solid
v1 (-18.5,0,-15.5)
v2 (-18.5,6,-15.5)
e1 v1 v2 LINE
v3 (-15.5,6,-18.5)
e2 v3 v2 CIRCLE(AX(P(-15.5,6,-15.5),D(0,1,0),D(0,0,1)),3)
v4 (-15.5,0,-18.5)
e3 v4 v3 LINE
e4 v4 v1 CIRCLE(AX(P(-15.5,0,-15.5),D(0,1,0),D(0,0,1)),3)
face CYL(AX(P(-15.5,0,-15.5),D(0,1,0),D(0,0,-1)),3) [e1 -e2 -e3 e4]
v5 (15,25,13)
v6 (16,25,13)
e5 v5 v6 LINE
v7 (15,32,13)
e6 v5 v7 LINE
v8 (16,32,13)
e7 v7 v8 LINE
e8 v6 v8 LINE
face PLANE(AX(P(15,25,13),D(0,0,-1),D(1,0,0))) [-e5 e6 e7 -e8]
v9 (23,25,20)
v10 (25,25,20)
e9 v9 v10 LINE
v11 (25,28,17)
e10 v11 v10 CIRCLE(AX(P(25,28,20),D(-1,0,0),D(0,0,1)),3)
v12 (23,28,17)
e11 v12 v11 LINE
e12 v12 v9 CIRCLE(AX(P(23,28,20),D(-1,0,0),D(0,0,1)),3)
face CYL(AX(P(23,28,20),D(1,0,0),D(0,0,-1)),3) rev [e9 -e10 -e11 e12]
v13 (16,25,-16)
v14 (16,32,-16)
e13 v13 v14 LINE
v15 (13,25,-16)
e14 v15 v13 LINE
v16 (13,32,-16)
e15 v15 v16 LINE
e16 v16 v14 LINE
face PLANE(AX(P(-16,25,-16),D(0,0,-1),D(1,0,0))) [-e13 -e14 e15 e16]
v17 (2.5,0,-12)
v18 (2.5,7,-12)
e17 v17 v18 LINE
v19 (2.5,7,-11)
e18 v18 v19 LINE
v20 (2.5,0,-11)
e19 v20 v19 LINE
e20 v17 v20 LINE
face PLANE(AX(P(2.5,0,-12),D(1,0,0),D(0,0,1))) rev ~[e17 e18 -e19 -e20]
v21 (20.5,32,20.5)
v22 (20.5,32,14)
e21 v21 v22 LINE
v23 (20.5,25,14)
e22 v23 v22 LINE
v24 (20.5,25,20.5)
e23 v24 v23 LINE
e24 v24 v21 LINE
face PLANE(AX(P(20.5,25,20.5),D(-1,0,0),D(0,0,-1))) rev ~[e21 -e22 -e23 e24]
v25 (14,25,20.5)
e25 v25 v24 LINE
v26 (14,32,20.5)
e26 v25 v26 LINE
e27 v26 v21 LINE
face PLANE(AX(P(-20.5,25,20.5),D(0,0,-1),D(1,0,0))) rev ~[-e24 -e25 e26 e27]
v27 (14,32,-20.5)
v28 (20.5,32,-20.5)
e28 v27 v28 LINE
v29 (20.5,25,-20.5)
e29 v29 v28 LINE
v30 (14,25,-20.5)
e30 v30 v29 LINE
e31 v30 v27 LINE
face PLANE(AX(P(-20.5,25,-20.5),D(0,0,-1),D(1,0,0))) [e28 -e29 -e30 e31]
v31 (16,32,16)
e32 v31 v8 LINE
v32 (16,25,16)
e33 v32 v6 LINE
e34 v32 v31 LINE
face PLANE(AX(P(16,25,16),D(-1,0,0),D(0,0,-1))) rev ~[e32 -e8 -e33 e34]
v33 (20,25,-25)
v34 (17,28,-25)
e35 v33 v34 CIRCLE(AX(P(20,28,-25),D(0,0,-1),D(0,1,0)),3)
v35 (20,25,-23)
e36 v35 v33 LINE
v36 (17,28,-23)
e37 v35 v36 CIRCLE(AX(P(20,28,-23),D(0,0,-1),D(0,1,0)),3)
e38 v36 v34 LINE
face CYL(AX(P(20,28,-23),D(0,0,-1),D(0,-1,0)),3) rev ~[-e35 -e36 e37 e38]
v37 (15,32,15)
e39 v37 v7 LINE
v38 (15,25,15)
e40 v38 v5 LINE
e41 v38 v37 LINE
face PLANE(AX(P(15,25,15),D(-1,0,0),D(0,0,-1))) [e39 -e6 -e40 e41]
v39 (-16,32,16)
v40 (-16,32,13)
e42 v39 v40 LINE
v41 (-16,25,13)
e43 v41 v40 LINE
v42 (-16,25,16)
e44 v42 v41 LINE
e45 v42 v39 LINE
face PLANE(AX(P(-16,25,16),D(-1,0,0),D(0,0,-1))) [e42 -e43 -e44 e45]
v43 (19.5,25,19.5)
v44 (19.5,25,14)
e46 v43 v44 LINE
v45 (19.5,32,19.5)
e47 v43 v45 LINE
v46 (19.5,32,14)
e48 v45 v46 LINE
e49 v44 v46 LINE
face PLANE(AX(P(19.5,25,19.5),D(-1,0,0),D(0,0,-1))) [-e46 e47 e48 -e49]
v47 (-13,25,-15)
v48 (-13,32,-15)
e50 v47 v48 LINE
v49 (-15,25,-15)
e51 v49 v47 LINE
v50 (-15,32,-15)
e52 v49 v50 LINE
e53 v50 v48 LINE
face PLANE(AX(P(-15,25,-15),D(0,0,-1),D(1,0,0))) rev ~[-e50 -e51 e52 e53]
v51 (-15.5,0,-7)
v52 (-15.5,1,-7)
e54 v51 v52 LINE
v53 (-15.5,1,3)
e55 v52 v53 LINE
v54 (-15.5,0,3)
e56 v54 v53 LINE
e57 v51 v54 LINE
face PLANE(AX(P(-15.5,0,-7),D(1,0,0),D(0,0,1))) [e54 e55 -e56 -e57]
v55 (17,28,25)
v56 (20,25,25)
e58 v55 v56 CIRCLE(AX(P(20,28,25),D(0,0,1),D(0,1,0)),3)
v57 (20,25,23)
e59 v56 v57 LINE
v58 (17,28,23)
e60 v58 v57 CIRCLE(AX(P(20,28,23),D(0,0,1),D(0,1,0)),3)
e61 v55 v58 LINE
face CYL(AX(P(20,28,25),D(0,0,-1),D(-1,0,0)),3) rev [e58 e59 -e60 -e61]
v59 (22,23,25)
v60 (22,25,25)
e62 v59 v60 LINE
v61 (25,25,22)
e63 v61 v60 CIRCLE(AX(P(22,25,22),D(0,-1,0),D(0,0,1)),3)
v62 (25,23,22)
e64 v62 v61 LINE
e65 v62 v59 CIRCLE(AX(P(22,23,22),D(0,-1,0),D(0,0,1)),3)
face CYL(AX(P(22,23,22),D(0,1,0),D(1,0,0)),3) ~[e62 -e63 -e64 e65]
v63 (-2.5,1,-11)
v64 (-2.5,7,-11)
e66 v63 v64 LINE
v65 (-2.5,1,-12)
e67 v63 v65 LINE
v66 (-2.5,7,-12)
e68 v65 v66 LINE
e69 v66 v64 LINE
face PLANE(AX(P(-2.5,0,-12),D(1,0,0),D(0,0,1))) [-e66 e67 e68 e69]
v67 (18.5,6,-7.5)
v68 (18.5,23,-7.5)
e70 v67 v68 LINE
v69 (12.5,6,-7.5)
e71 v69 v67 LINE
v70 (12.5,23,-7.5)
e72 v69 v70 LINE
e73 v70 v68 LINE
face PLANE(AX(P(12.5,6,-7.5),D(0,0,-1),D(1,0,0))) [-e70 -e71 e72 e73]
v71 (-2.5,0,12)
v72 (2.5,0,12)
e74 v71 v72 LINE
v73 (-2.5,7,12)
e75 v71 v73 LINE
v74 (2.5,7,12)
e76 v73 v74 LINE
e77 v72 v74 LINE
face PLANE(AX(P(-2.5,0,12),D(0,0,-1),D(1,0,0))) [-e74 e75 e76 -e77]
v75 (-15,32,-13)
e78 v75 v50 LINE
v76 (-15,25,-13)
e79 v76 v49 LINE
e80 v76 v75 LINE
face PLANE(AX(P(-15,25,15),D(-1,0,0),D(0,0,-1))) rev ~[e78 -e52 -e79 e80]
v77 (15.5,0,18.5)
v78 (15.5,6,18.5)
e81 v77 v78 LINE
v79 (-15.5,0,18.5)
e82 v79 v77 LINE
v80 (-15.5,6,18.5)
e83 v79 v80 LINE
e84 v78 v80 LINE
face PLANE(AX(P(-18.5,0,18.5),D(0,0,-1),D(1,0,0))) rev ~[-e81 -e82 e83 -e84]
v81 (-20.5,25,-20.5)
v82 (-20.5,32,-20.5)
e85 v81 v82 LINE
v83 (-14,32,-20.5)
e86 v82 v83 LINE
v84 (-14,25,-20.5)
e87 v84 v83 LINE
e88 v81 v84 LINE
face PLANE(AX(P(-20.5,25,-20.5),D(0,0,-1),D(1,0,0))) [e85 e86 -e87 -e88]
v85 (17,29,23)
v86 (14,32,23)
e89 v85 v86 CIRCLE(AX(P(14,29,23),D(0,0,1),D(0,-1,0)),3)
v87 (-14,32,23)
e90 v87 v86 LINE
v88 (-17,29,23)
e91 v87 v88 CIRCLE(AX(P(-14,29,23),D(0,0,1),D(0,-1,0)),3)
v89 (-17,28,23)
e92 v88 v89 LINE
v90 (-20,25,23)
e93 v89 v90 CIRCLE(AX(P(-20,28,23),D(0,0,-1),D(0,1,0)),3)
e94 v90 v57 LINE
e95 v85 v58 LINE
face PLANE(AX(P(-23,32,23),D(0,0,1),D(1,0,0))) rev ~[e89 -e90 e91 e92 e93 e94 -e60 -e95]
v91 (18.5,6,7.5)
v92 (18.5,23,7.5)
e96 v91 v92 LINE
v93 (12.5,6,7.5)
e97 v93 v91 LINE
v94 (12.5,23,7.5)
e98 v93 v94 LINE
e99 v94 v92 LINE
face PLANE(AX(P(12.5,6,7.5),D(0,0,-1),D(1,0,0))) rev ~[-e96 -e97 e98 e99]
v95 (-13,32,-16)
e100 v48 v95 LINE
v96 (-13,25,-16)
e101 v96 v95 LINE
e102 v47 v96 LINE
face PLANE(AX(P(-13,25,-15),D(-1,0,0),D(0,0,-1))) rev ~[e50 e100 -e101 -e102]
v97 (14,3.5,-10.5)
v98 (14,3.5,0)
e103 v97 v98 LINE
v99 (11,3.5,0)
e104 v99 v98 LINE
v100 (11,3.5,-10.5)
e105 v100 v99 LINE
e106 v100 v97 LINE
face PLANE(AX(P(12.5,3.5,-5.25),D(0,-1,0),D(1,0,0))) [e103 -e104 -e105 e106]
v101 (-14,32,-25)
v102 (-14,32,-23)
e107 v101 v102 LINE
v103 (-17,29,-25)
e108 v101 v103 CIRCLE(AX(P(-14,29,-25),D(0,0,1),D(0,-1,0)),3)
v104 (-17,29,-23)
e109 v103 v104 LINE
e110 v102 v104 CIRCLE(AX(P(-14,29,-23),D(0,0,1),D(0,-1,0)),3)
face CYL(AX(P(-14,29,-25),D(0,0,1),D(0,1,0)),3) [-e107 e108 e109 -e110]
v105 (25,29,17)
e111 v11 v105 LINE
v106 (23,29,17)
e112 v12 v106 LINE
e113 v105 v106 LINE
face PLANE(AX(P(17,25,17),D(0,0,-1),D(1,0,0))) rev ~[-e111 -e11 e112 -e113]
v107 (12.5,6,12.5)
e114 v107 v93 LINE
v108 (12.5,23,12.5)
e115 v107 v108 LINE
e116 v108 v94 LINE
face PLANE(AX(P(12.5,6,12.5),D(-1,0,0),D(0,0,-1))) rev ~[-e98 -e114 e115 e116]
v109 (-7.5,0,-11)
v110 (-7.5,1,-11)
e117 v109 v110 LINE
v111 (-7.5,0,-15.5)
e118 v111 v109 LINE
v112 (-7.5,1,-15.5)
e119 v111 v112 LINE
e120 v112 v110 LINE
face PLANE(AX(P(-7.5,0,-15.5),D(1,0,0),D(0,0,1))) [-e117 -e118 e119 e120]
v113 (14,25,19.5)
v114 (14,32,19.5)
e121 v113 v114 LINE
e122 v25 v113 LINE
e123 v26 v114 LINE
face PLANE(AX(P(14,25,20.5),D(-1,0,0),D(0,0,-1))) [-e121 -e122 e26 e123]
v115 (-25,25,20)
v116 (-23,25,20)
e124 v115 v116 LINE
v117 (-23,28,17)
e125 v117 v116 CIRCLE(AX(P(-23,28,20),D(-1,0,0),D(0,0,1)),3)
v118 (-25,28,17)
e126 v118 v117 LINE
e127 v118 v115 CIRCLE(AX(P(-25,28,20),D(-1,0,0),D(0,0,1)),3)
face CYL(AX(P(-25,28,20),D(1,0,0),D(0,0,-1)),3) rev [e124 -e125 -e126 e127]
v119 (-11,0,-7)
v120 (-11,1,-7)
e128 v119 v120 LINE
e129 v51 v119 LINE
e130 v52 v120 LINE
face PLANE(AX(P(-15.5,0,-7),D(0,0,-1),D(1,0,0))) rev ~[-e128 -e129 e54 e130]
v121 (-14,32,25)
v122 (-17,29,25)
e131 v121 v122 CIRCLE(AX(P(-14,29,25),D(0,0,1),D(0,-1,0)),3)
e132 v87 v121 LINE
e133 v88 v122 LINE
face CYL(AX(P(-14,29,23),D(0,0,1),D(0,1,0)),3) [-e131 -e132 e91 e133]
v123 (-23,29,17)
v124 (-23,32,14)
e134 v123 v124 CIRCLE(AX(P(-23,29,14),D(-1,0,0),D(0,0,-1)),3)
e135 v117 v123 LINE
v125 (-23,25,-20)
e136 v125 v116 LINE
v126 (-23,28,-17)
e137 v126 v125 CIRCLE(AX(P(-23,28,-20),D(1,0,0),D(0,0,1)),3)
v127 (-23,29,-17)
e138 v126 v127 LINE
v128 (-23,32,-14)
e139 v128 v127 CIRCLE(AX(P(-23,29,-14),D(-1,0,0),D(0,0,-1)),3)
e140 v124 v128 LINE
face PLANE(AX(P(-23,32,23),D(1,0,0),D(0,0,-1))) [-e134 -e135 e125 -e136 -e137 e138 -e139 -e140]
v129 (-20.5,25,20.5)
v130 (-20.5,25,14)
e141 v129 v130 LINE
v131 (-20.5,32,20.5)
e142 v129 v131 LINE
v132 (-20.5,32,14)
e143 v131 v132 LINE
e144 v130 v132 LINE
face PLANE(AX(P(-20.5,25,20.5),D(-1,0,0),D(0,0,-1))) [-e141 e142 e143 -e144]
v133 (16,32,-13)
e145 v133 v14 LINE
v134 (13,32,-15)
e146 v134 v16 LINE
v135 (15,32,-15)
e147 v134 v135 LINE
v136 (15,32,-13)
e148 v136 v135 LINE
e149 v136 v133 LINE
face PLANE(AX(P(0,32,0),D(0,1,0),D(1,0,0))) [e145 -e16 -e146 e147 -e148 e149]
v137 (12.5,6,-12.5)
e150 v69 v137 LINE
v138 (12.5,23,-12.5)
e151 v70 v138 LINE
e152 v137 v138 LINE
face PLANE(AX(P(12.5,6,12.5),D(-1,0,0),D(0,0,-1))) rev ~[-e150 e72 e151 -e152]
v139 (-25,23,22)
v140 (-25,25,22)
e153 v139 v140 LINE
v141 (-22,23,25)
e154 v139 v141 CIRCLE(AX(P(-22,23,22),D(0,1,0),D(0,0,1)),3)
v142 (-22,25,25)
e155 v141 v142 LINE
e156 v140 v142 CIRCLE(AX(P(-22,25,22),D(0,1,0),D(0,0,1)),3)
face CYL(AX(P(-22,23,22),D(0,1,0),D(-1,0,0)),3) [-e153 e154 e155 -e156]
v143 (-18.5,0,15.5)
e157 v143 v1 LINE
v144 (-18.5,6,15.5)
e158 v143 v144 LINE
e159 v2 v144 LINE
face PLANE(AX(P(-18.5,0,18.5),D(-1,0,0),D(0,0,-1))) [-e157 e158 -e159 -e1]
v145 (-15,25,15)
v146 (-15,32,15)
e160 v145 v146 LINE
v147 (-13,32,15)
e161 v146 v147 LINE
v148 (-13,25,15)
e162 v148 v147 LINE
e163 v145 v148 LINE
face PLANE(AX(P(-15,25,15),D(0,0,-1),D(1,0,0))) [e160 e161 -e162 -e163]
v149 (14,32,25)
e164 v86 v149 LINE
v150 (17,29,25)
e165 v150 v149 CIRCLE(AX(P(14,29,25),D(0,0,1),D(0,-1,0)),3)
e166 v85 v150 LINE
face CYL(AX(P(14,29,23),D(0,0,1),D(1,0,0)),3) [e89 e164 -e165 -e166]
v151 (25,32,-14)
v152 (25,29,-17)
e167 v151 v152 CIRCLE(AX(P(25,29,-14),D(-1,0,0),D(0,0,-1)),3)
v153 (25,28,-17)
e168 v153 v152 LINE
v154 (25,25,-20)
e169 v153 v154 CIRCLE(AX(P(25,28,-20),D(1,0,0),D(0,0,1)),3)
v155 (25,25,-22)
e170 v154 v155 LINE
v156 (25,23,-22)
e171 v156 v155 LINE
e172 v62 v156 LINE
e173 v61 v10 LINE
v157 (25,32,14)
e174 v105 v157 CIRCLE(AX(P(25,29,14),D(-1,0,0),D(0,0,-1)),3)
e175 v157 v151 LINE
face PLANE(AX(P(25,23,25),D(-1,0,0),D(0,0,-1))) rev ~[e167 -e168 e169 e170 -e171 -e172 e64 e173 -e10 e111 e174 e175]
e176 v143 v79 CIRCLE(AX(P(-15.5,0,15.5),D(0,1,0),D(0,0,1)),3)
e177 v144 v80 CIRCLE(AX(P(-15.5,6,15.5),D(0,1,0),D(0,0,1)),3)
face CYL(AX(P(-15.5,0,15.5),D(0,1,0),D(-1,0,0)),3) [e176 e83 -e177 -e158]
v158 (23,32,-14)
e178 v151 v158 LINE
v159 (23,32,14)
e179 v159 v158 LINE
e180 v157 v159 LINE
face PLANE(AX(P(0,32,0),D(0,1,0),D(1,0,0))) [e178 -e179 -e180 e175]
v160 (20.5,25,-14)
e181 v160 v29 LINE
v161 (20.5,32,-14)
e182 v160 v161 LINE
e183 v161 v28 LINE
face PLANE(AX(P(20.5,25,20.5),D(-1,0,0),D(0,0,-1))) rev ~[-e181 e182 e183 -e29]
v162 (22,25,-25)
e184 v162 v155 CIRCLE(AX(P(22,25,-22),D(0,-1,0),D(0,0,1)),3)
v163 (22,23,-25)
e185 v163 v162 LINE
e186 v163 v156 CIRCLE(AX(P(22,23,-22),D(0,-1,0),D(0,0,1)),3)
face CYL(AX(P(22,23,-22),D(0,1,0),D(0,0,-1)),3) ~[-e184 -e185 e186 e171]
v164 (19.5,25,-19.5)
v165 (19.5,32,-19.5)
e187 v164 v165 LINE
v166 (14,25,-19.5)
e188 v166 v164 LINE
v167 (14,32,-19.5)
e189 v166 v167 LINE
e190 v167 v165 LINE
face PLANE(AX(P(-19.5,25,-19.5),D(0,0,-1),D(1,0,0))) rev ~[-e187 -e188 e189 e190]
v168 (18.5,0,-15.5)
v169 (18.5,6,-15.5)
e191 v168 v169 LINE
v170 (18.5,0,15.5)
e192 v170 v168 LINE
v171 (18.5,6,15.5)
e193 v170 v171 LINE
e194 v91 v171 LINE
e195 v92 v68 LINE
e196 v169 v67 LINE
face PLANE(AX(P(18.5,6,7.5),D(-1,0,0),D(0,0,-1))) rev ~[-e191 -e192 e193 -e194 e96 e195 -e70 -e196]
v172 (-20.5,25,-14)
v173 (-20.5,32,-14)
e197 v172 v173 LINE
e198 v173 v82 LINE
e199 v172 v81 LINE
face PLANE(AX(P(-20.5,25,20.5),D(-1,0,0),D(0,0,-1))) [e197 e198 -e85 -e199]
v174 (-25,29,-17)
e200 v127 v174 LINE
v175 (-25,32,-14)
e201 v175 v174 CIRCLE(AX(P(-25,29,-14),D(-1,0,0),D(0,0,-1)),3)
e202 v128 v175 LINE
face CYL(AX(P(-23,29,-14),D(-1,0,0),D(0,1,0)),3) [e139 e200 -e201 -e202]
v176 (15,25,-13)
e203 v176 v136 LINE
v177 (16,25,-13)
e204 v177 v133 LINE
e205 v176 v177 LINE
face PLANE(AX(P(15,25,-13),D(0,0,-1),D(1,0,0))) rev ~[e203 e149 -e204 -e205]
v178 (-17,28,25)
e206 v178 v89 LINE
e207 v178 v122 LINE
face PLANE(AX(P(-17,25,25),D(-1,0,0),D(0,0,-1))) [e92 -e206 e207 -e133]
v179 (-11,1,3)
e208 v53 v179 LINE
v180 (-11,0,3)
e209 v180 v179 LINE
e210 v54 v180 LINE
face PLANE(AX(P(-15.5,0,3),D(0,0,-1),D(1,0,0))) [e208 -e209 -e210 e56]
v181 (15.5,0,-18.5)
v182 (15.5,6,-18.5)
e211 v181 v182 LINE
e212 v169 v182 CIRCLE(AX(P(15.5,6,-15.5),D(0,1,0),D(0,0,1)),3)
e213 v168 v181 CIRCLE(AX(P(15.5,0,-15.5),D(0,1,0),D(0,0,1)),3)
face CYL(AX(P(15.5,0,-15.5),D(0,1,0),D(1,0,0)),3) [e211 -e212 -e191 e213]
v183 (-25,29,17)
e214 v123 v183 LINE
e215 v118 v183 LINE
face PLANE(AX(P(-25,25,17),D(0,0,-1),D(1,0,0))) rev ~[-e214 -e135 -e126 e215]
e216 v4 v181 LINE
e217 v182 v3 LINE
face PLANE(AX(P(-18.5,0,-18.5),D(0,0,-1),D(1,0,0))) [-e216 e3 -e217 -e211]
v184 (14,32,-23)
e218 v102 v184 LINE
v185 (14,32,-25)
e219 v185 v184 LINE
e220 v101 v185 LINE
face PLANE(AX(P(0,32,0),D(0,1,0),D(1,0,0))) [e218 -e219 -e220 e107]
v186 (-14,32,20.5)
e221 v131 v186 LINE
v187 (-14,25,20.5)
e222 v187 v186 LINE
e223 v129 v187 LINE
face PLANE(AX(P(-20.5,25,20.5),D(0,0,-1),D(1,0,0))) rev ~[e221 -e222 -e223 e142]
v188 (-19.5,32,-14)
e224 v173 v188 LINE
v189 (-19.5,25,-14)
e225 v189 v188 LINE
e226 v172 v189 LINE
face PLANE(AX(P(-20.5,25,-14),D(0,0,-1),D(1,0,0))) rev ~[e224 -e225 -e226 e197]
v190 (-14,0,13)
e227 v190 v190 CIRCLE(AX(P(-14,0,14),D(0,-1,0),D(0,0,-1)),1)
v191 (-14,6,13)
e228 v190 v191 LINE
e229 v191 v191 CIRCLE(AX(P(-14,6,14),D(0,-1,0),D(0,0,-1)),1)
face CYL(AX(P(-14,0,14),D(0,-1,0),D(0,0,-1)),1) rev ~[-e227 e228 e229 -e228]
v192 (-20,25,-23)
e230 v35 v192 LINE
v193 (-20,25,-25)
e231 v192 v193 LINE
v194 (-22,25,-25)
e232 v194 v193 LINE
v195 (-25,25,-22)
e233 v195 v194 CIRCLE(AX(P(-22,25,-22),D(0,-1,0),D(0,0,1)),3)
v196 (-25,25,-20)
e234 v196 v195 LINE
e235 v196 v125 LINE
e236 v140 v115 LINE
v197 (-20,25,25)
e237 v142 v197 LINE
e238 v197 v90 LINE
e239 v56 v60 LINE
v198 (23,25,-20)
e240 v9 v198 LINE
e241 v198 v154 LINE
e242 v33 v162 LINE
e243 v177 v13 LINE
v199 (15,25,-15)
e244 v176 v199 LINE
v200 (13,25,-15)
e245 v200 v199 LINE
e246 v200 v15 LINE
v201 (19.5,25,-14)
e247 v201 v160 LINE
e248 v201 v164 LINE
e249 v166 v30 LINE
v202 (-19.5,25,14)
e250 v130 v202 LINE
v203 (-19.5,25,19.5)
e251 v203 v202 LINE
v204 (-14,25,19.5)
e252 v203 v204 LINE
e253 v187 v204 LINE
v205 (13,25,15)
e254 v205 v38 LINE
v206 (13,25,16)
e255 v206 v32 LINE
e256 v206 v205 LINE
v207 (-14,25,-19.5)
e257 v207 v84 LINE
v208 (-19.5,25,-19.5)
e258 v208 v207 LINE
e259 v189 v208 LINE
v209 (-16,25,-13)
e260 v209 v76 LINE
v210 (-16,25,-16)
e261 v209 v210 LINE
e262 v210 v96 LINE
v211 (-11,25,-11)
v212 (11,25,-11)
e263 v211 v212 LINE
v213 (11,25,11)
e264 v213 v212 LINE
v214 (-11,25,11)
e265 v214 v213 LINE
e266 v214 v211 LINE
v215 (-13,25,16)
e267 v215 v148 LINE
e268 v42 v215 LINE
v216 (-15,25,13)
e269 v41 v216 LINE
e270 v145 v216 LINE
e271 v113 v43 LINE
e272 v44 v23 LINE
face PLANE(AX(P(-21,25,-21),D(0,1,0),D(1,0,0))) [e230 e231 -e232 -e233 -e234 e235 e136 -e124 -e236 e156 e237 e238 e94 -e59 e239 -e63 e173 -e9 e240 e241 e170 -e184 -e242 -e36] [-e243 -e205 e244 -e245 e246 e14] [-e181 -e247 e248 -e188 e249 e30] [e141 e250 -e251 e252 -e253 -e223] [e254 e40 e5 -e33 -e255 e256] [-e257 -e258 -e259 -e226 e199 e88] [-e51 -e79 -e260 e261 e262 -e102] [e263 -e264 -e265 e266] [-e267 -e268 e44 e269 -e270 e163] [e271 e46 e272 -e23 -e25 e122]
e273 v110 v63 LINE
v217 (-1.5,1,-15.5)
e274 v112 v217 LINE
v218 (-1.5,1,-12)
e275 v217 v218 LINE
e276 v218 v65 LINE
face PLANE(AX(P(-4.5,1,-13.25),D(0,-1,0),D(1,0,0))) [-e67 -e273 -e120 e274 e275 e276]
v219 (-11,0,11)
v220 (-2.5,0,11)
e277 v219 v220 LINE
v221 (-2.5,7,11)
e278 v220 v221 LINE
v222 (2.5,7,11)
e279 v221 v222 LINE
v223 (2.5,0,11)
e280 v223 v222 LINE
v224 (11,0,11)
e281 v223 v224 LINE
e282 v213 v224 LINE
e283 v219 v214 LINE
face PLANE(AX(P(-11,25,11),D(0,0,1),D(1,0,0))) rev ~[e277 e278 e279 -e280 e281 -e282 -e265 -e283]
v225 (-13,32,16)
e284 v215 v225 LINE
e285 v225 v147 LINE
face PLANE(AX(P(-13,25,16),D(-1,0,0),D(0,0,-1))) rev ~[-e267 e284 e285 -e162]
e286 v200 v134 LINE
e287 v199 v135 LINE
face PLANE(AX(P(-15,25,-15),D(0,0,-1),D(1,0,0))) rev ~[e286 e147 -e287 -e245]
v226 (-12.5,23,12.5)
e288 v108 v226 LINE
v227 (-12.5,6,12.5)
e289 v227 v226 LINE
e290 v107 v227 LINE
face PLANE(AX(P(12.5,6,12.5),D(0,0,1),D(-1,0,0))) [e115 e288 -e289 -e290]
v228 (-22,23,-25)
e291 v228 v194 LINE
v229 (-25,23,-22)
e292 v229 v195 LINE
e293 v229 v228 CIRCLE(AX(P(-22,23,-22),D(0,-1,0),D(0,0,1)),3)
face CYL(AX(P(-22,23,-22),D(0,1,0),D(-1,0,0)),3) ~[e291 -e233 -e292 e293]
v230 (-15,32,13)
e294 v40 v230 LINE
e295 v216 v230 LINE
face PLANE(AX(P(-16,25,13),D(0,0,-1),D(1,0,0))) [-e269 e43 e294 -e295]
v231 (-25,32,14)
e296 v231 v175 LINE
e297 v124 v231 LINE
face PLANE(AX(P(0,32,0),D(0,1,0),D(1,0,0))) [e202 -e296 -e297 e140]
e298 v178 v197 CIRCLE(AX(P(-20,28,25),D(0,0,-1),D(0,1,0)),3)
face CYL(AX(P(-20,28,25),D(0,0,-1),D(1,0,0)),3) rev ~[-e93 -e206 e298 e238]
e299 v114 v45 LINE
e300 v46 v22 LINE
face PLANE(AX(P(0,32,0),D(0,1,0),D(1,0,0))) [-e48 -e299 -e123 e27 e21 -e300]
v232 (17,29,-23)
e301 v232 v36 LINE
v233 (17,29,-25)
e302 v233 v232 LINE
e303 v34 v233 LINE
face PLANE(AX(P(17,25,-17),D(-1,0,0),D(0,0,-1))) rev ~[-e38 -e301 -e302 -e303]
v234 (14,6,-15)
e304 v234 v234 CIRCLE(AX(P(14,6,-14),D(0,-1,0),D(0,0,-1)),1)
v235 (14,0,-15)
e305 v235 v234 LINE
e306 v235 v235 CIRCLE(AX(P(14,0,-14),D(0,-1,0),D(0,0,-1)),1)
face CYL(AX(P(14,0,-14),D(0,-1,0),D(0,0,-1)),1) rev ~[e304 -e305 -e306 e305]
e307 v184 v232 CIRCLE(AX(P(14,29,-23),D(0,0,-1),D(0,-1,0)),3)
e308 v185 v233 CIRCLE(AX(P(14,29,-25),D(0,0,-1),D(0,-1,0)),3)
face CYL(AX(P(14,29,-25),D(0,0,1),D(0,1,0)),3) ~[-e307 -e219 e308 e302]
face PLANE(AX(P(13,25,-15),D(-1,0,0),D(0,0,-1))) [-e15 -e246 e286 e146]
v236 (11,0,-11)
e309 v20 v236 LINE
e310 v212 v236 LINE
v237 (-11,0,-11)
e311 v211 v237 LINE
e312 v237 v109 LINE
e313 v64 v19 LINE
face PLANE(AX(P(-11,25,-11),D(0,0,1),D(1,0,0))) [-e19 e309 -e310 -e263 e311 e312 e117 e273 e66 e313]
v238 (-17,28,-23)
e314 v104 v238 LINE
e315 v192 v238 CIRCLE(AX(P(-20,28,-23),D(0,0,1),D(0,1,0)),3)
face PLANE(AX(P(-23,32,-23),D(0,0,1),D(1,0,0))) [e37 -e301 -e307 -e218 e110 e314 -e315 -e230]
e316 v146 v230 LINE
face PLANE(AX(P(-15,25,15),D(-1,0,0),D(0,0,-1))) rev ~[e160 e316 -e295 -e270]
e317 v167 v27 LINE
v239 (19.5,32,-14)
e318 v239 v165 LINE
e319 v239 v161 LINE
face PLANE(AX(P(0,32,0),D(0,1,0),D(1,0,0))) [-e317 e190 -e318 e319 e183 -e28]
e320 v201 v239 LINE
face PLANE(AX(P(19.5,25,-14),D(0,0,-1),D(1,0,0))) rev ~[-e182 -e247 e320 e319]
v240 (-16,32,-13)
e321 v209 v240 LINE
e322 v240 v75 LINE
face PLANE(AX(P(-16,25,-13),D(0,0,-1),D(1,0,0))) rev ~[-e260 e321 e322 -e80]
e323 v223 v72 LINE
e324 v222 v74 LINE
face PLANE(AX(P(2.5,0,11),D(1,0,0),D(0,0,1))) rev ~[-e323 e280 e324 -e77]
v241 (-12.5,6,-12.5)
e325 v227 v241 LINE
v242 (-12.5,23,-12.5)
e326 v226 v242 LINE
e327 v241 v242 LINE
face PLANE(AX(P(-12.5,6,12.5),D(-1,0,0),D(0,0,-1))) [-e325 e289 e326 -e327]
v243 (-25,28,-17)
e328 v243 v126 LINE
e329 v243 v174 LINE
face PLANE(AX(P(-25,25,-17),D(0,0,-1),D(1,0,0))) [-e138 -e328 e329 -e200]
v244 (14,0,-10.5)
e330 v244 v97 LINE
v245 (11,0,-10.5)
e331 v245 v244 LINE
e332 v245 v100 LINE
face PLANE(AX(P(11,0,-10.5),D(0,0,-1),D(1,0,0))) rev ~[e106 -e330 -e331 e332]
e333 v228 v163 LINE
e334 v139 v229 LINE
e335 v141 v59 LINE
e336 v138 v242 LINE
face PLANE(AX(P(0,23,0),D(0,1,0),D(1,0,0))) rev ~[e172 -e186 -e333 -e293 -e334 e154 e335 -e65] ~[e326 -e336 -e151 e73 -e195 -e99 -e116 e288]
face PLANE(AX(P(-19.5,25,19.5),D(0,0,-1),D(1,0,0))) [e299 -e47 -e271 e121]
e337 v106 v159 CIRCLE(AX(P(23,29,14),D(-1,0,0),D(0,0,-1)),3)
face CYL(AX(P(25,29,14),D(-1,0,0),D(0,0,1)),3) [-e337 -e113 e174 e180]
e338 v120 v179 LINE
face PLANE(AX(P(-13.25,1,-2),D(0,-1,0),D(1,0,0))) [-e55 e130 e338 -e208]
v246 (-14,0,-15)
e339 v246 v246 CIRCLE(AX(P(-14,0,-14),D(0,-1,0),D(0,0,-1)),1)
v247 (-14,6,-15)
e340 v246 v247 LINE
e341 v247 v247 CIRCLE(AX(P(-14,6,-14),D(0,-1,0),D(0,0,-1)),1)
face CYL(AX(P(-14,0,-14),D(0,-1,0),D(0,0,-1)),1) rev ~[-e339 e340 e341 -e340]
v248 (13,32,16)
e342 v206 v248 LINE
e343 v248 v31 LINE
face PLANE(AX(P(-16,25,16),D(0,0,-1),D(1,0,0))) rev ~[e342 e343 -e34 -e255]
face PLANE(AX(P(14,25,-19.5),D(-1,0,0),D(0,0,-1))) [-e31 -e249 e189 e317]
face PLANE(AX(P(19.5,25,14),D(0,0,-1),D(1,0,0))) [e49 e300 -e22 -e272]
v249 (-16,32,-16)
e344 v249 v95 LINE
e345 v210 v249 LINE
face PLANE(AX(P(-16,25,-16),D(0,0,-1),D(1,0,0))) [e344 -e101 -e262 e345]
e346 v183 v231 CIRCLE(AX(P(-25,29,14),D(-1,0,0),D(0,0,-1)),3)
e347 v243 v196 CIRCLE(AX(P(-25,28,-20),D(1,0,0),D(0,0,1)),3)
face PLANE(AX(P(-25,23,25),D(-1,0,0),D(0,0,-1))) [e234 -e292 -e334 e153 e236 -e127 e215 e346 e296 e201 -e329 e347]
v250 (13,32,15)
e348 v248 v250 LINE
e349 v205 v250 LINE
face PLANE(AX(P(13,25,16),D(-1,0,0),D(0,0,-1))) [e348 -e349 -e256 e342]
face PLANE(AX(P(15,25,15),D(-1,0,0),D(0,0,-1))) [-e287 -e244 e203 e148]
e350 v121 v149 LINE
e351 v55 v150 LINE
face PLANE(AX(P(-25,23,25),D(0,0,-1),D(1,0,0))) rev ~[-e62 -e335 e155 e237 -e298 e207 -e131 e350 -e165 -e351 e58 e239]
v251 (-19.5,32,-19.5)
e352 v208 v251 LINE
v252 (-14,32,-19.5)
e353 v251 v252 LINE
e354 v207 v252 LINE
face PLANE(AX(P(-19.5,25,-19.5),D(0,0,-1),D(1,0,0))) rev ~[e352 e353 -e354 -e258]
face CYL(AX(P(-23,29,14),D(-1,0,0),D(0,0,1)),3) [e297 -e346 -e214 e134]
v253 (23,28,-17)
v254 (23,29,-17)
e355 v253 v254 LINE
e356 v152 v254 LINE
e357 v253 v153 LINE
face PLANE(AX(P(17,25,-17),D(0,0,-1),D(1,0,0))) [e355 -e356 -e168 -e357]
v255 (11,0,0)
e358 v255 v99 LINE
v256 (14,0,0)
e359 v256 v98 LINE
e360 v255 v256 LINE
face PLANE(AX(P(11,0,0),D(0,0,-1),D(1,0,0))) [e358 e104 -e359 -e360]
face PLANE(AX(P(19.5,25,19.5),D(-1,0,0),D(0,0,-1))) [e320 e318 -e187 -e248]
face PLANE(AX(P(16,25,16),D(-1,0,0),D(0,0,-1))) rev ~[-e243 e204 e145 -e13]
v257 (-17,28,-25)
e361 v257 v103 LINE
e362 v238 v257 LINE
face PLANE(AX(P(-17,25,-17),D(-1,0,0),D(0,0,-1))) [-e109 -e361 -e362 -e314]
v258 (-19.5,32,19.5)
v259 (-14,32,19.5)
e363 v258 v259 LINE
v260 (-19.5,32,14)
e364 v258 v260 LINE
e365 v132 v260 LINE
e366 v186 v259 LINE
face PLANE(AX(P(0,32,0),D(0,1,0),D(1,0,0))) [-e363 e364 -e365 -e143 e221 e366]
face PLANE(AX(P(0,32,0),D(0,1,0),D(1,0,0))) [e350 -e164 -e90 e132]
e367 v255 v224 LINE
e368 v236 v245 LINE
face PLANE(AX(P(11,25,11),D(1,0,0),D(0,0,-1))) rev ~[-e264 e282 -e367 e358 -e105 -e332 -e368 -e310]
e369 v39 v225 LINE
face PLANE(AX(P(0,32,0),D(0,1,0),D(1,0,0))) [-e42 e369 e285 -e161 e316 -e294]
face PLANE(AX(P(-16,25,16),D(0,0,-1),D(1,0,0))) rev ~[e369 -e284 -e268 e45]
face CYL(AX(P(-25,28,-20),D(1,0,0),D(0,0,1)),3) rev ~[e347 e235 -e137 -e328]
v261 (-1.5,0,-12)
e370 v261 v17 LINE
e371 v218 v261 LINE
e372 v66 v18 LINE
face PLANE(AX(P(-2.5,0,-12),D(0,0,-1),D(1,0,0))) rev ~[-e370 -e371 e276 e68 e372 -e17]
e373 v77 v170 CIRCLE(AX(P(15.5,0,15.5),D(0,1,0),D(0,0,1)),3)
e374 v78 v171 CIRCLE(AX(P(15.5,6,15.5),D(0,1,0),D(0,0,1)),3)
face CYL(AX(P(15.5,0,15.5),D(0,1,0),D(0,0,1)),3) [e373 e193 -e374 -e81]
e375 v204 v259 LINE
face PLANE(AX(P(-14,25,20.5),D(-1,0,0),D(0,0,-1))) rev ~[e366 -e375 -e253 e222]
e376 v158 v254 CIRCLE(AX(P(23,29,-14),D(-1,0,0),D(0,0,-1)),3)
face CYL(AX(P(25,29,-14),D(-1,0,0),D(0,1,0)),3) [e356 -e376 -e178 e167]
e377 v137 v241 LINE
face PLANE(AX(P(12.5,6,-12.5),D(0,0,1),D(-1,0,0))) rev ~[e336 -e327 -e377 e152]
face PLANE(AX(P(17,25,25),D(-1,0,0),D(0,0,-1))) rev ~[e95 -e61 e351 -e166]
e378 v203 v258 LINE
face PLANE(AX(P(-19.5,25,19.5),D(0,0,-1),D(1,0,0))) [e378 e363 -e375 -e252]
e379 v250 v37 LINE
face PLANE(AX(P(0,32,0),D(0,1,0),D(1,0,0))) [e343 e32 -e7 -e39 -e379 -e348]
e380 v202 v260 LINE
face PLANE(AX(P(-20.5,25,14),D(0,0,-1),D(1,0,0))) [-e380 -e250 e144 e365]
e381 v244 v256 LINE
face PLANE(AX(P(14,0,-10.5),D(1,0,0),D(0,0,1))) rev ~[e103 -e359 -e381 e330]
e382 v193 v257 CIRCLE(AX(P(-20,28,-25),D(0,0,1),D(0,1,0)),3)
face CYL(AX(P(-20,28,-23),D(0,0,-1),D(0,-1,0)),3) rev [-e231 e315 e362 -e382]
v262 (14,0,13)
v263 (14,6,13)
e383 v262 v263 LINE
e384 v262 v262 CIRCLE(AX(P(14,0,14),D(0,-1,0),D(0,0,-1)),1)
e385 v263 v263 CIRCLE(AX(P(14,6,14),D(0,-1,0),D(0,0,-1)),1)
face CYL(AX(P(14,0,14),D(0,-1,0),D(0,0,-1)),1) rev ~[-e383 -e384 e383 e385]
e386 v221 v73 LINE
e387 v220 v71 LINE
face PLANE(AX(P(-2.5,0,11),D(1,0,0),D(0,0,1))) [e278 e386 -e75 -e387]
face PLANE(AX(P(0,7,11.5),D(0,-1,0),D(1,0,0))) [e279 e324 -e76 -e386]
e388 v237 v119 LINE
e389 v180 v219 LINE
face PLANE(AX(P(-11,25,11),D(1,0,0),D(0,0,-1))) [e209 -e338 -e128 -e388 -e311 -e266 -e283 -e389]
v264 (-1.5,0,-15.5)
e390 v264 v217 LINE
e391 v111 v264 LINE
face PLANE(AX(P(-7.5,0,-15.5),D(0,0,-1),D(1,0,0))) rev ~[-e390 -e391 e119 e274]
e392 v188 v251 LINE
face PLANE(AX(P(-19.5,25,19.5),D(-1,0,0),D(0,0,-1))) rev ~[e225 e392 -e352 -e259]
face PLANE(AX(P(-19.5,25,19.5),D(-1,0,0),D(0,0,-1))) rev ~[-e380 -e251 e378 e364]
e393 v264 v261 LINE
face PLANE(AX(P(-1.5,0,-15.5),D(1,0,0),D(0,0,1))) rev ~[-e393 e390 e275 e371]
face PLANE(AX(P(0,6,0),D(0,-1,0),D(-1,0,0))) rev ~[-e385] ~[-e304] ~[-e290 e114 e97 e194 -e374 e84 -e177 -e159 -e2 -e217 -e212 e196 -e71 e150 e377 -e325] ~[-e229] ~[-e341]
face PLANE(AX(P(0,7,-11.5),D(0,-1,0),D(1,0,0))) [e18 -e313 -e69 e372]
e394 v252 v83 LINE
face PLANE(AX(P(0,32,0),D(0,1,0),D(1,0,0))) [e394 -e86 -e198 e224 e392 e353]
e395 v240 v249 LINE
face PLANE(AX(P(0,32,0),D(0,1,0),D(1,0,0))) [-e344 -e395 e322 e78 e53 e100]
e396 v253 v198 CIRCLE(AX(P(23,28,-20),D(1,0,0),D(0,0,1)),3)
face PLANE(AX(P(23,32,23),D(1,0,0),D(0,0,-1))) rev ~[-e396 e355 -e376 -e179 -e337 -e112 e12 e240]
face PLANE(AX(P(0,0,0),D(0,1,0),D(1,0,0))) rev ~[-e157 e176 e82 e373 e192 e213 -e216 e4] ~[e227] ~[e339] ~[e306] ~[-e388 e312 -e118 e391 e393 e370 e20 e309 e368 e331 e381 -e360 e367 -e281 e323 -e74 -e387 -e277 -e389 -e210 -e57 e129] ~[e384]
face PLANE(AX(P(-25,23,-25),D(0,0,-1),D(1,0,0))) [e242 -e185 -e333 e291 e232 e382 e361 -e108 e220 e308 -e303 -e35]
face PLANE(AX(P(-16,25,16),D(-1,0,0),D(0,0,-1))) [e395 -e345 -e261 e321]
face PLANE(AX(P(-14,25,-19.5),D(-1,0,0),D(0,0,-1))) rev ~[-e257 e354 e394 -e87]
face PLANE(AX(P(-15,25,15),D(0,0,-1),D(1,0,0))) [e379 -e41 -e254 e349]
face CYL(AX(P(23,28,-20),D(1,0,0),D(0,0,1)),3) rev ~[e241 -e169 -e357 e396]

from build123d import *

# Parameters (mm, degrees)
SKETCH_2_W            = 37
SKETCH_2_H            = 37
EXTRUDE_1_DEPTH       = 23
SKETCH_3_W            = 22
SKETCH_3_H            = 22
CUT_EXTRUDE_1_DEPTH   = 23
SKETCH_19_OUTSIDE_W   = 50.432
SKETCH_19_OUTSIDE_H   = 50.432
SKETCH_19_OUTSIDE_W_2 = 25
SKETCH_19_OUTSIDE_H_2 = 25
CUT_EXTRUDE_17_DEPTH  = 17
SKETCH_4_W            = 50
SKETCH_4_H            = 50
EXTRUDE_2_DEPTH       = 9
SKETCH_5_W            = 46
SKETCH_5_H            = 46
CUT_EXTRUDE_3_DEPTH   = 7
SKETCH_12_W           = 8
SKETCH_12_H           = 8
CUT_EXTRUDE_14_DEPTH  = 14
SKETCH_6_W            = 22
SKETCH_6_H            = 22
CUT_EXTRUDE_4_DEPTH   = 2
SKETCH_11_R           = 1
CUT_EXTRUDE_7_DEPTH   = 8
SKETCH_13_W           = 41
SKETCH_13_H           = 41
SKETCH_13_W_2         = 39
SKETCH_13_H_2         = 39
EXTRUDE_3_DEPTH       = 7
SKETCH_17_W           = 32
SKETCH_17_H           = 32
SKETCH_17_W_2         = 30
SKETCH_17_H_2         = 30
EXTRUDE_4_DEPTH       = 7
SKETCH_15_W           = 28
SKETCH_15_H           = 1
SKETCH_15_W_2         = 1
SKETCH_15_H_2         = 28
CUT_EXTRUDE_15_DEPTH  = 7
SKETCH_18_W           = 1
SKETCH_18_H           = 26
SKETCH_18_W_2         = 26
SKETCH_18_H_2         = 1
CUT_EXTRUDE_16_DEPTH  = 7
SKETCH_20_W           = 3
SKETCH_20_H           = 10.5
CUT_EXTRUDE_18_DEPTH  = 3.5
SKETCH_21_W           = 4.5
SKETCH_21_H           = 10
CUT_EXTRUDE_19_DEPTH  = 1
SKETCH_22_W           = 5
SKETCH_22_H           = 1
CUT_EXTRUDE_21_DEPTH  = 7
SKETCH_24_W           = 6
SKETCH_24_H           = 4.5
CUT_EXTRUDE_22_DEPTH  = 1
SKETCH_25_W           = 6
SKETCH_25_H           = 15
EXTRUDE_5_DEPTH       = 17
FILLET_5_R            = 3
FILLET_6_R            = 3
FILLET_10_R           = 3
FILLET_11_R           = 3
FILLET_12_R           = 3
FILLET_14_R           = 3
FILLET_15_R           = 3
FILLET_16_R           = 3
FILLET_19_R           = 3
FILLET_20_R           = 3
FILLET_21_R           = 3
FILLET_22_R           = 3
FILLET_28_R           = 3
FILLET_29_R           = 3
FILLET_30_R           = 3
FILLET_31_R           = 3
FILLET_32_R           = 3
FILLET_33_R           = 3
FILLET_34_R           = 3
FILLET_35_R           = 3
FILLET_36_R           = 3
FILLET_37_R           = 3
FILLET_38_R           = 3
FILLET_39_R           = 3


with BuildPart() as part:
    # 草图2 → 凸台-拉伸1 (new body)
    with BuildSketch(Plane(origin=(0, 0, 0), x_dir=(1, 0, 0), z_dir=(0, 1, 0))):
        Rectangle(SKETCH_2_W, SKETCH_2_H)
    extrude(amount=EXTRUDE_1_DEPTH)

    # 草图3 → 切除-拉伸1 (cut)
    with BuildSketch(Plane.XZ):
        Rectangle(SKETCH_3_W, SKETCH_3_H)
    extrude(amount=-CUT_EXTRUDE_1_DEPTH, mode=Mode.SUBTRACT)

    # 草图19 outside → 切除-拉伸17 (cut)
    with BuildSketch(Plane(origin=(0, 6, 0), x_dir=(-1, 0, 0), z_dir=(0, -1, 0))):
        Rectangle(SKETCH_19_OUTSIDE_W, SKETCH_19_OUTSIDE_H)
        Rectangle(SKETCH_19_OUTSIDE_W_2, SKETCH_19_OUTSIDE_H_2, mode=Mode.SUBTRACT)
    extrude(amount=-CUT_EXTRUDE_17_DEPTH, mode=Mode.SUBTRACT)

    # 草图4 → 凸台-拉伸2 (add)
    with BuildSketch(Plane(origin=(0, 23, 0), x_dir=(1, 0, 0), z_dir=(0, 1, 0))):
        Rectangle(SKETCH_4_W, SKETCH_4_H)
    extrude(amount=EXTRUDE_2_DEPTH)

    # 草图5 → 切除-拉伸3 (cut)
    with BuildSketch(Plane(origin=(0, 32, 0), x_dir=(1, 0, 0), z_dir=(0, 1, 0))):
        Rectangle(SKETCH_5_W, SKETCH_5_H)
    extrude(amount=-CUT_EXTRUDE_3_DEPTH, mode=Mode.SUBTRACT)

    # 草图12 → 切除-拉伸14 (cut)
    with BuildSketch(Plane(origin=(0, 25, 0), x_dir=(1, 0, 0), z_dir=(0, 1, 0))):
        with Locations((-21, -21)):
            Rectangle(SKETCH_12_W, SKETCH_12_H)
        with Locations((-21, 21)):
            Rectangle(SKETCH_12_W, SKETCH_12_H)
        with Locations((21, 21)):
            Rectangle(SKETCH_12_W, SKETCH_12_H)
        with Locations((21, -21)):
            Rectangle(SKETCH_12_W, SKETCH_12_H)
    extrude(amount=CUT_EXTRUDE_14_DEPTH, mode=Mode.SUBTRACT)

    # 草图6 → 切除-拉伸4 (cut)
    with BuildSketch(Plane(origin=(0, 25, 0), x_dir=(1, 0, 0), z_dir=(0, 1, 0))):
        Rectangle(SKETCH_6_W, SKETCH_6_H)
    extrude(amount=-CUT_EXTRUDE_4_DEPTH, mode=Mode.SUBTRACT)

    # 草图11 → 切除-拉伸7 (cut)
    with BuildSketch(Plane.XZ):
        with Locations(Location((14, 14, 0), (0, 0, 270))):
            Circle(SKETCH_11_R)
        with Locations(Location((14, -14, 0), (0, 0, 270))):
            Circle(SKETCH_11_R)
        with Locations(Location((-14, -14, 0), (0, 0, 270))):
            Circle(SKETCH_11_R)
        with Locations(Location((-14, 14, 0), (0, 0, 270))):
            Circle(SKETCH_11_R)
    extrude(amount=-CUT_EXTRUDE_7_DEPTH, mode=Mode.SUBTRACT)

    # 草图13 → 凸台-拉伸3 (add)
    with BuildSketch(Plane(origin=(0, 25, 0), x_dir=(1, 0, 0), z_dir=(0, 1, 0))):
        Rectangle(SKETCH_13_W, SKETCH_13_H)
        Rectangle(SKETCH_13_W_2, SKETCH_13_H_2, mode=Mode.SUBTRACT)
    extrude(amount=EXTRUDE_3_DEPTH)

    # 草图17 → 凸台-拉伸4 (add)
    with BuildSketch(Plane(origin=(0, 25, 0), x_dir=(1, 0, 0), z_dir=(0, 1, 0))):
        Rectangle(SKETCH_17_W, SKETCH_17_H)
        Rectangle(SKETCH_17_W_2, SKETCH_17_H_2, mode=Mode.SUBTRACT)
    extrude(amount=EXTRUDE_4_DEPTH)

    # 草图15 → 切除-拉伸15 (cut)
    with BuildSketch(Plane(origin=(0, 25, 0), x_dir=(1, 0, 0), z_dir=(0, 1, 0))):
        with Locations((0, -20)):
            Rectangle(SKETCH_15_W, SKETCH_15_H)
        with Locations((20, 0)):
            Rectangle(SKETCH_15_W_2, SKETCH_15_H_2)
        with Locations((-20, 0)):
            Rectangle(SKETCH_15_W_2, SKETCH_15_H_2)
        with Locations((0, 20)):
            Rectangle(SKETCH_15_W, SKETCH_15_H)
    extrude(amount=CUT_EXTRUDE_15_DEPTH, mode=Mode.SUBTRACT)

    # 草图18 → 切除-拉伸16 (cut)
    with BuildSketch(Plane(origin=(0, 25, 0), x_dir=(1, 0, 0), z_dir=(0, 1, 0))):
        with Locations((15.5, 0)):
            Rectangle(SKETCH_18_W, SKETCH_18_H)
        with Locations((0, -15.5)):
            Rectangle(SKETCH_18_W_2, SKETCH_18_H_2)
        with Locations((-15.5, 0)):
            Rectangle(SKETCH_18_W, SKETCH_18_H)
        with Locations((0, 15.5)):
            Rectangle(SKETCH_18_W_2, SKETCH_18_H_2)
    extrude(amount=CUT_EXTRUDE_16_DEPTH, mode=Mode.SUBTRACT)

    # 草图20 → 切除-拉伸18 (cut)
    with BuildSketch(Plane.XZ):
        with Locations((12.5, -5.25)):
            Rectangle(SKETCH_20_W, SKETCH_20_H)
    extrude(amount=-CUT_EXTRUDE_18_DEPTH, mode=Mode.SUBTRACT)

    # 草图21 → 切除-拉伸19 (cut)
    with BuildSketch(Plane.XZ):
        with Locations((-13.25, -2)):
            Rectangle(SKETCH_21_W, SKETCH_21_H)
    extrude(amount=-CUT_EXTRUDE_19_DEPTH, mode=Mode.SUBTRACT)

    # 草图22 → 切除-拉伸21 (cut)
    with BuildSketch(Plane.XZ):
        with Locations((0, -11.5)):
            Rectangle(SKETCH_22_W, SKETCH_22_H)
        with Locations((0, 11.5)):
            Rectangle(SKETCH_22_W, SKETCH_22_H)
    extrude(amount=-CUT_EXTRUDE_21_DEPTH, mode=Mode.SUBTRACT)

    # 草图24 → 切除-拉伸22 (cut)
    with BuildSketch(Plane.XZ):
        with Locations((-4.5, -13.25)):
            Rectangle(SKETCH_24_W, SKETCH_24_H)
    extrude(amount=-CUT_EXTRUDE_22_DEPTH, mode=Mode.SUBTRACT)

    # 草图25 → 凸台-拉伸5 (add)
    with BuildSketch(Plane(origin=(0, 6, 0), x_dir=(1, 0, 0), z_dir=(0, 1, 0))):
        with Locations((15.5, 0)):
            Rectangle(SKETCH_25_W, SKETCH_25_H)
    extrude(amount=EXTRUDE_5_DEPTH)

    # 圆角5
    fillet_5_edges = [part.edges().sort_by_distance(p)[0] for p in [
        (25, 24, -25),
    ]]
    fillet(fillet_5_edges, radius=FILLET_5_R)

    # 圆角6
    fillet_6_edges = [part.edges().sort_by_distance(p)[0] for p in [
        (25, 24, 25),
    ]]
    fillet(fillet_6_edges, radius=FILLET_6_R)

    # 圆角10
    fillet_10_edges = [part.edges().sort_by_distance(p)[0] for p in [
        (17, 25, -24),
    ]]
    fillet(fillet_10_edges, radius=FILLET_10_R)

    # 圆角11
    fillet_11_edges = [part.edges().sort_by_distance(p)[0] for p in [
        (24, 32, -17),
    ]]
    fillet(fillet_11_edges, radius=FILLET_11_R)

    # 圆角12
    fillet_12_edges = [part.edges().sort_by_distance(p)[0] for p in [
        (24, 25, -17),
    ]]
    fillet(fillet_12_edges, radius=FILLET_12_R)

    # 圆角14
    fillet_14_edges = [part.edges().sort_by_distance(p)[0] for p in [
        (17, 25, 24),
    ]]
    fillet(fillet_14_edges, radius=FILLET_14_R)

    # 圆角15
    fillet_15_edges = [part.edges().sort_by_distance(p)[0] for p in [
        (24, 32, 17),
    ]]
    fillet(fillet_15_edges, radius=FILLET_15_R)

    # 圆角16
    fillet_16_edges = [part.edges().sort_by_distance(p)[0] for p in [
        (24, 25, 17),
    ]]
    fillet(fillet_16_edges, radius=FILLET_16_R)

    # 圆角19
    fillet_19_edges = [part.edges().sort_by_distance(p)[0] for p in [
        (-18.5, 3, -18.5),
    ]]
    fillet(fillet_19_edges, radius=FILLET_19_R)

    # 圆角20
    fillet_20_edges = [part.edges().sort_by_distance(p)[0] for p in [
        (-18.5, 3, 18.5),
    ]]
    fillet(fillet_20_edges, radius=FILLET_20_R)

    # 圆角21
    fillet_21_edges = [part.edges().sort_by_distance(p)[0] for p in [
        (18.5, 3, 18.5),
    ]]
    fillet(fillet_21_edges, radius=FILLET_21_R)

    # 圆角22
    fillet_22_edges = [part.edges().sort_by_distance(p)[0] for p in [
        (18.5, 3, -18.5),
    ]]
    fillet(fillet_22_edges, radius=FILLET_22_R)

    # 圆角28
    fillet_28_edges = [part.edges().sort_by_distance(p)[0] for p in [
        (-17, 25, -24),
    ]]
    fillet(fillet_28_edges, radius=FILLET_28_R)

    # 圆角29
    fillet_29_edges = [part.edges().sort_by_distance(p)[0] for p in [
        (-24, 25, -17),
    ]]
    fillet(fillet_29_edges, radius=FILLET_29_R)

    # 圆角30
    fillet_30_edges = [part.edges().sort_by_distance(p)[0] for p in [
        (-24, 25, 17),
    ]]
    fillet(fillet_30_edges, radius=FILLET_30_R)

    # 圆角31
    fillet_31_edges = [part.edges().sort_by_distance(p)[0] for p in [
        (-17, 25, 24),
    ]]
    fillet(fillet_31_edges, radius=FILLET_31_R)

    # 圆角32
    fillet_32_edges = [part.edges().sort_by_distance(p)[0] for p in [
        (17, 32, 24),
    ]]
    fillet(fillet_32_edges, radius=FILLET_32_R)

    # 圆角33
    fillet_33_edges = [part.edges().sort_by_distance(p)[0] for p in [
        (-17, 32, 24),
    ]]
    fillet(fillet_33_edges, radius=FILLET_33_R)

    # 圆角34
    fillet_34_edges = [part.edges().sort_by_distance(p)[0] for p in [
        (17, 32, -24),
    ]]
    fillet(fillet_34_edges, radius=FILLET_34_R)

    # 圆角35
    fillet_35_edges = [part.edges().sort_by_distance(p)[0] for p in [
        (-17, 32, -24),
    ]]
    fillet(fillet_35_edges, radius=FILLET_35_R)

    # 圆角36
    fillet_36_edges = [part.edges().sort_by_distance(p)[0] for p in [
        (-24, 32, 17),
    ]]
    fillet(fillet_36_edges, radius=FILLET_36_R)

    # 圆角37
    fillet_37_edges = [part.edges().sort_by_distance(p)[0] for p in [
        (-24, 32, -17),
    ]]
    fillet(fillet_37_edges, radius=FILLET_37_R)

    # 圆角38
    fillet_38_edges = [part.edges().sort_by_distance(p)[0] for p in [
        (-25, 24, 25),
    ]]
    fillet(fillet_38_edges, radius=FILLET_38_R)

    # 圆角39
    fillet_39_edges = [part.edges().sort_by_distance(p)[0] for p in [
        (-25, 24, -25),
    ]]
    fillet(fillet_39_edges, radius=FILLET_39_R)


solid = part.part
